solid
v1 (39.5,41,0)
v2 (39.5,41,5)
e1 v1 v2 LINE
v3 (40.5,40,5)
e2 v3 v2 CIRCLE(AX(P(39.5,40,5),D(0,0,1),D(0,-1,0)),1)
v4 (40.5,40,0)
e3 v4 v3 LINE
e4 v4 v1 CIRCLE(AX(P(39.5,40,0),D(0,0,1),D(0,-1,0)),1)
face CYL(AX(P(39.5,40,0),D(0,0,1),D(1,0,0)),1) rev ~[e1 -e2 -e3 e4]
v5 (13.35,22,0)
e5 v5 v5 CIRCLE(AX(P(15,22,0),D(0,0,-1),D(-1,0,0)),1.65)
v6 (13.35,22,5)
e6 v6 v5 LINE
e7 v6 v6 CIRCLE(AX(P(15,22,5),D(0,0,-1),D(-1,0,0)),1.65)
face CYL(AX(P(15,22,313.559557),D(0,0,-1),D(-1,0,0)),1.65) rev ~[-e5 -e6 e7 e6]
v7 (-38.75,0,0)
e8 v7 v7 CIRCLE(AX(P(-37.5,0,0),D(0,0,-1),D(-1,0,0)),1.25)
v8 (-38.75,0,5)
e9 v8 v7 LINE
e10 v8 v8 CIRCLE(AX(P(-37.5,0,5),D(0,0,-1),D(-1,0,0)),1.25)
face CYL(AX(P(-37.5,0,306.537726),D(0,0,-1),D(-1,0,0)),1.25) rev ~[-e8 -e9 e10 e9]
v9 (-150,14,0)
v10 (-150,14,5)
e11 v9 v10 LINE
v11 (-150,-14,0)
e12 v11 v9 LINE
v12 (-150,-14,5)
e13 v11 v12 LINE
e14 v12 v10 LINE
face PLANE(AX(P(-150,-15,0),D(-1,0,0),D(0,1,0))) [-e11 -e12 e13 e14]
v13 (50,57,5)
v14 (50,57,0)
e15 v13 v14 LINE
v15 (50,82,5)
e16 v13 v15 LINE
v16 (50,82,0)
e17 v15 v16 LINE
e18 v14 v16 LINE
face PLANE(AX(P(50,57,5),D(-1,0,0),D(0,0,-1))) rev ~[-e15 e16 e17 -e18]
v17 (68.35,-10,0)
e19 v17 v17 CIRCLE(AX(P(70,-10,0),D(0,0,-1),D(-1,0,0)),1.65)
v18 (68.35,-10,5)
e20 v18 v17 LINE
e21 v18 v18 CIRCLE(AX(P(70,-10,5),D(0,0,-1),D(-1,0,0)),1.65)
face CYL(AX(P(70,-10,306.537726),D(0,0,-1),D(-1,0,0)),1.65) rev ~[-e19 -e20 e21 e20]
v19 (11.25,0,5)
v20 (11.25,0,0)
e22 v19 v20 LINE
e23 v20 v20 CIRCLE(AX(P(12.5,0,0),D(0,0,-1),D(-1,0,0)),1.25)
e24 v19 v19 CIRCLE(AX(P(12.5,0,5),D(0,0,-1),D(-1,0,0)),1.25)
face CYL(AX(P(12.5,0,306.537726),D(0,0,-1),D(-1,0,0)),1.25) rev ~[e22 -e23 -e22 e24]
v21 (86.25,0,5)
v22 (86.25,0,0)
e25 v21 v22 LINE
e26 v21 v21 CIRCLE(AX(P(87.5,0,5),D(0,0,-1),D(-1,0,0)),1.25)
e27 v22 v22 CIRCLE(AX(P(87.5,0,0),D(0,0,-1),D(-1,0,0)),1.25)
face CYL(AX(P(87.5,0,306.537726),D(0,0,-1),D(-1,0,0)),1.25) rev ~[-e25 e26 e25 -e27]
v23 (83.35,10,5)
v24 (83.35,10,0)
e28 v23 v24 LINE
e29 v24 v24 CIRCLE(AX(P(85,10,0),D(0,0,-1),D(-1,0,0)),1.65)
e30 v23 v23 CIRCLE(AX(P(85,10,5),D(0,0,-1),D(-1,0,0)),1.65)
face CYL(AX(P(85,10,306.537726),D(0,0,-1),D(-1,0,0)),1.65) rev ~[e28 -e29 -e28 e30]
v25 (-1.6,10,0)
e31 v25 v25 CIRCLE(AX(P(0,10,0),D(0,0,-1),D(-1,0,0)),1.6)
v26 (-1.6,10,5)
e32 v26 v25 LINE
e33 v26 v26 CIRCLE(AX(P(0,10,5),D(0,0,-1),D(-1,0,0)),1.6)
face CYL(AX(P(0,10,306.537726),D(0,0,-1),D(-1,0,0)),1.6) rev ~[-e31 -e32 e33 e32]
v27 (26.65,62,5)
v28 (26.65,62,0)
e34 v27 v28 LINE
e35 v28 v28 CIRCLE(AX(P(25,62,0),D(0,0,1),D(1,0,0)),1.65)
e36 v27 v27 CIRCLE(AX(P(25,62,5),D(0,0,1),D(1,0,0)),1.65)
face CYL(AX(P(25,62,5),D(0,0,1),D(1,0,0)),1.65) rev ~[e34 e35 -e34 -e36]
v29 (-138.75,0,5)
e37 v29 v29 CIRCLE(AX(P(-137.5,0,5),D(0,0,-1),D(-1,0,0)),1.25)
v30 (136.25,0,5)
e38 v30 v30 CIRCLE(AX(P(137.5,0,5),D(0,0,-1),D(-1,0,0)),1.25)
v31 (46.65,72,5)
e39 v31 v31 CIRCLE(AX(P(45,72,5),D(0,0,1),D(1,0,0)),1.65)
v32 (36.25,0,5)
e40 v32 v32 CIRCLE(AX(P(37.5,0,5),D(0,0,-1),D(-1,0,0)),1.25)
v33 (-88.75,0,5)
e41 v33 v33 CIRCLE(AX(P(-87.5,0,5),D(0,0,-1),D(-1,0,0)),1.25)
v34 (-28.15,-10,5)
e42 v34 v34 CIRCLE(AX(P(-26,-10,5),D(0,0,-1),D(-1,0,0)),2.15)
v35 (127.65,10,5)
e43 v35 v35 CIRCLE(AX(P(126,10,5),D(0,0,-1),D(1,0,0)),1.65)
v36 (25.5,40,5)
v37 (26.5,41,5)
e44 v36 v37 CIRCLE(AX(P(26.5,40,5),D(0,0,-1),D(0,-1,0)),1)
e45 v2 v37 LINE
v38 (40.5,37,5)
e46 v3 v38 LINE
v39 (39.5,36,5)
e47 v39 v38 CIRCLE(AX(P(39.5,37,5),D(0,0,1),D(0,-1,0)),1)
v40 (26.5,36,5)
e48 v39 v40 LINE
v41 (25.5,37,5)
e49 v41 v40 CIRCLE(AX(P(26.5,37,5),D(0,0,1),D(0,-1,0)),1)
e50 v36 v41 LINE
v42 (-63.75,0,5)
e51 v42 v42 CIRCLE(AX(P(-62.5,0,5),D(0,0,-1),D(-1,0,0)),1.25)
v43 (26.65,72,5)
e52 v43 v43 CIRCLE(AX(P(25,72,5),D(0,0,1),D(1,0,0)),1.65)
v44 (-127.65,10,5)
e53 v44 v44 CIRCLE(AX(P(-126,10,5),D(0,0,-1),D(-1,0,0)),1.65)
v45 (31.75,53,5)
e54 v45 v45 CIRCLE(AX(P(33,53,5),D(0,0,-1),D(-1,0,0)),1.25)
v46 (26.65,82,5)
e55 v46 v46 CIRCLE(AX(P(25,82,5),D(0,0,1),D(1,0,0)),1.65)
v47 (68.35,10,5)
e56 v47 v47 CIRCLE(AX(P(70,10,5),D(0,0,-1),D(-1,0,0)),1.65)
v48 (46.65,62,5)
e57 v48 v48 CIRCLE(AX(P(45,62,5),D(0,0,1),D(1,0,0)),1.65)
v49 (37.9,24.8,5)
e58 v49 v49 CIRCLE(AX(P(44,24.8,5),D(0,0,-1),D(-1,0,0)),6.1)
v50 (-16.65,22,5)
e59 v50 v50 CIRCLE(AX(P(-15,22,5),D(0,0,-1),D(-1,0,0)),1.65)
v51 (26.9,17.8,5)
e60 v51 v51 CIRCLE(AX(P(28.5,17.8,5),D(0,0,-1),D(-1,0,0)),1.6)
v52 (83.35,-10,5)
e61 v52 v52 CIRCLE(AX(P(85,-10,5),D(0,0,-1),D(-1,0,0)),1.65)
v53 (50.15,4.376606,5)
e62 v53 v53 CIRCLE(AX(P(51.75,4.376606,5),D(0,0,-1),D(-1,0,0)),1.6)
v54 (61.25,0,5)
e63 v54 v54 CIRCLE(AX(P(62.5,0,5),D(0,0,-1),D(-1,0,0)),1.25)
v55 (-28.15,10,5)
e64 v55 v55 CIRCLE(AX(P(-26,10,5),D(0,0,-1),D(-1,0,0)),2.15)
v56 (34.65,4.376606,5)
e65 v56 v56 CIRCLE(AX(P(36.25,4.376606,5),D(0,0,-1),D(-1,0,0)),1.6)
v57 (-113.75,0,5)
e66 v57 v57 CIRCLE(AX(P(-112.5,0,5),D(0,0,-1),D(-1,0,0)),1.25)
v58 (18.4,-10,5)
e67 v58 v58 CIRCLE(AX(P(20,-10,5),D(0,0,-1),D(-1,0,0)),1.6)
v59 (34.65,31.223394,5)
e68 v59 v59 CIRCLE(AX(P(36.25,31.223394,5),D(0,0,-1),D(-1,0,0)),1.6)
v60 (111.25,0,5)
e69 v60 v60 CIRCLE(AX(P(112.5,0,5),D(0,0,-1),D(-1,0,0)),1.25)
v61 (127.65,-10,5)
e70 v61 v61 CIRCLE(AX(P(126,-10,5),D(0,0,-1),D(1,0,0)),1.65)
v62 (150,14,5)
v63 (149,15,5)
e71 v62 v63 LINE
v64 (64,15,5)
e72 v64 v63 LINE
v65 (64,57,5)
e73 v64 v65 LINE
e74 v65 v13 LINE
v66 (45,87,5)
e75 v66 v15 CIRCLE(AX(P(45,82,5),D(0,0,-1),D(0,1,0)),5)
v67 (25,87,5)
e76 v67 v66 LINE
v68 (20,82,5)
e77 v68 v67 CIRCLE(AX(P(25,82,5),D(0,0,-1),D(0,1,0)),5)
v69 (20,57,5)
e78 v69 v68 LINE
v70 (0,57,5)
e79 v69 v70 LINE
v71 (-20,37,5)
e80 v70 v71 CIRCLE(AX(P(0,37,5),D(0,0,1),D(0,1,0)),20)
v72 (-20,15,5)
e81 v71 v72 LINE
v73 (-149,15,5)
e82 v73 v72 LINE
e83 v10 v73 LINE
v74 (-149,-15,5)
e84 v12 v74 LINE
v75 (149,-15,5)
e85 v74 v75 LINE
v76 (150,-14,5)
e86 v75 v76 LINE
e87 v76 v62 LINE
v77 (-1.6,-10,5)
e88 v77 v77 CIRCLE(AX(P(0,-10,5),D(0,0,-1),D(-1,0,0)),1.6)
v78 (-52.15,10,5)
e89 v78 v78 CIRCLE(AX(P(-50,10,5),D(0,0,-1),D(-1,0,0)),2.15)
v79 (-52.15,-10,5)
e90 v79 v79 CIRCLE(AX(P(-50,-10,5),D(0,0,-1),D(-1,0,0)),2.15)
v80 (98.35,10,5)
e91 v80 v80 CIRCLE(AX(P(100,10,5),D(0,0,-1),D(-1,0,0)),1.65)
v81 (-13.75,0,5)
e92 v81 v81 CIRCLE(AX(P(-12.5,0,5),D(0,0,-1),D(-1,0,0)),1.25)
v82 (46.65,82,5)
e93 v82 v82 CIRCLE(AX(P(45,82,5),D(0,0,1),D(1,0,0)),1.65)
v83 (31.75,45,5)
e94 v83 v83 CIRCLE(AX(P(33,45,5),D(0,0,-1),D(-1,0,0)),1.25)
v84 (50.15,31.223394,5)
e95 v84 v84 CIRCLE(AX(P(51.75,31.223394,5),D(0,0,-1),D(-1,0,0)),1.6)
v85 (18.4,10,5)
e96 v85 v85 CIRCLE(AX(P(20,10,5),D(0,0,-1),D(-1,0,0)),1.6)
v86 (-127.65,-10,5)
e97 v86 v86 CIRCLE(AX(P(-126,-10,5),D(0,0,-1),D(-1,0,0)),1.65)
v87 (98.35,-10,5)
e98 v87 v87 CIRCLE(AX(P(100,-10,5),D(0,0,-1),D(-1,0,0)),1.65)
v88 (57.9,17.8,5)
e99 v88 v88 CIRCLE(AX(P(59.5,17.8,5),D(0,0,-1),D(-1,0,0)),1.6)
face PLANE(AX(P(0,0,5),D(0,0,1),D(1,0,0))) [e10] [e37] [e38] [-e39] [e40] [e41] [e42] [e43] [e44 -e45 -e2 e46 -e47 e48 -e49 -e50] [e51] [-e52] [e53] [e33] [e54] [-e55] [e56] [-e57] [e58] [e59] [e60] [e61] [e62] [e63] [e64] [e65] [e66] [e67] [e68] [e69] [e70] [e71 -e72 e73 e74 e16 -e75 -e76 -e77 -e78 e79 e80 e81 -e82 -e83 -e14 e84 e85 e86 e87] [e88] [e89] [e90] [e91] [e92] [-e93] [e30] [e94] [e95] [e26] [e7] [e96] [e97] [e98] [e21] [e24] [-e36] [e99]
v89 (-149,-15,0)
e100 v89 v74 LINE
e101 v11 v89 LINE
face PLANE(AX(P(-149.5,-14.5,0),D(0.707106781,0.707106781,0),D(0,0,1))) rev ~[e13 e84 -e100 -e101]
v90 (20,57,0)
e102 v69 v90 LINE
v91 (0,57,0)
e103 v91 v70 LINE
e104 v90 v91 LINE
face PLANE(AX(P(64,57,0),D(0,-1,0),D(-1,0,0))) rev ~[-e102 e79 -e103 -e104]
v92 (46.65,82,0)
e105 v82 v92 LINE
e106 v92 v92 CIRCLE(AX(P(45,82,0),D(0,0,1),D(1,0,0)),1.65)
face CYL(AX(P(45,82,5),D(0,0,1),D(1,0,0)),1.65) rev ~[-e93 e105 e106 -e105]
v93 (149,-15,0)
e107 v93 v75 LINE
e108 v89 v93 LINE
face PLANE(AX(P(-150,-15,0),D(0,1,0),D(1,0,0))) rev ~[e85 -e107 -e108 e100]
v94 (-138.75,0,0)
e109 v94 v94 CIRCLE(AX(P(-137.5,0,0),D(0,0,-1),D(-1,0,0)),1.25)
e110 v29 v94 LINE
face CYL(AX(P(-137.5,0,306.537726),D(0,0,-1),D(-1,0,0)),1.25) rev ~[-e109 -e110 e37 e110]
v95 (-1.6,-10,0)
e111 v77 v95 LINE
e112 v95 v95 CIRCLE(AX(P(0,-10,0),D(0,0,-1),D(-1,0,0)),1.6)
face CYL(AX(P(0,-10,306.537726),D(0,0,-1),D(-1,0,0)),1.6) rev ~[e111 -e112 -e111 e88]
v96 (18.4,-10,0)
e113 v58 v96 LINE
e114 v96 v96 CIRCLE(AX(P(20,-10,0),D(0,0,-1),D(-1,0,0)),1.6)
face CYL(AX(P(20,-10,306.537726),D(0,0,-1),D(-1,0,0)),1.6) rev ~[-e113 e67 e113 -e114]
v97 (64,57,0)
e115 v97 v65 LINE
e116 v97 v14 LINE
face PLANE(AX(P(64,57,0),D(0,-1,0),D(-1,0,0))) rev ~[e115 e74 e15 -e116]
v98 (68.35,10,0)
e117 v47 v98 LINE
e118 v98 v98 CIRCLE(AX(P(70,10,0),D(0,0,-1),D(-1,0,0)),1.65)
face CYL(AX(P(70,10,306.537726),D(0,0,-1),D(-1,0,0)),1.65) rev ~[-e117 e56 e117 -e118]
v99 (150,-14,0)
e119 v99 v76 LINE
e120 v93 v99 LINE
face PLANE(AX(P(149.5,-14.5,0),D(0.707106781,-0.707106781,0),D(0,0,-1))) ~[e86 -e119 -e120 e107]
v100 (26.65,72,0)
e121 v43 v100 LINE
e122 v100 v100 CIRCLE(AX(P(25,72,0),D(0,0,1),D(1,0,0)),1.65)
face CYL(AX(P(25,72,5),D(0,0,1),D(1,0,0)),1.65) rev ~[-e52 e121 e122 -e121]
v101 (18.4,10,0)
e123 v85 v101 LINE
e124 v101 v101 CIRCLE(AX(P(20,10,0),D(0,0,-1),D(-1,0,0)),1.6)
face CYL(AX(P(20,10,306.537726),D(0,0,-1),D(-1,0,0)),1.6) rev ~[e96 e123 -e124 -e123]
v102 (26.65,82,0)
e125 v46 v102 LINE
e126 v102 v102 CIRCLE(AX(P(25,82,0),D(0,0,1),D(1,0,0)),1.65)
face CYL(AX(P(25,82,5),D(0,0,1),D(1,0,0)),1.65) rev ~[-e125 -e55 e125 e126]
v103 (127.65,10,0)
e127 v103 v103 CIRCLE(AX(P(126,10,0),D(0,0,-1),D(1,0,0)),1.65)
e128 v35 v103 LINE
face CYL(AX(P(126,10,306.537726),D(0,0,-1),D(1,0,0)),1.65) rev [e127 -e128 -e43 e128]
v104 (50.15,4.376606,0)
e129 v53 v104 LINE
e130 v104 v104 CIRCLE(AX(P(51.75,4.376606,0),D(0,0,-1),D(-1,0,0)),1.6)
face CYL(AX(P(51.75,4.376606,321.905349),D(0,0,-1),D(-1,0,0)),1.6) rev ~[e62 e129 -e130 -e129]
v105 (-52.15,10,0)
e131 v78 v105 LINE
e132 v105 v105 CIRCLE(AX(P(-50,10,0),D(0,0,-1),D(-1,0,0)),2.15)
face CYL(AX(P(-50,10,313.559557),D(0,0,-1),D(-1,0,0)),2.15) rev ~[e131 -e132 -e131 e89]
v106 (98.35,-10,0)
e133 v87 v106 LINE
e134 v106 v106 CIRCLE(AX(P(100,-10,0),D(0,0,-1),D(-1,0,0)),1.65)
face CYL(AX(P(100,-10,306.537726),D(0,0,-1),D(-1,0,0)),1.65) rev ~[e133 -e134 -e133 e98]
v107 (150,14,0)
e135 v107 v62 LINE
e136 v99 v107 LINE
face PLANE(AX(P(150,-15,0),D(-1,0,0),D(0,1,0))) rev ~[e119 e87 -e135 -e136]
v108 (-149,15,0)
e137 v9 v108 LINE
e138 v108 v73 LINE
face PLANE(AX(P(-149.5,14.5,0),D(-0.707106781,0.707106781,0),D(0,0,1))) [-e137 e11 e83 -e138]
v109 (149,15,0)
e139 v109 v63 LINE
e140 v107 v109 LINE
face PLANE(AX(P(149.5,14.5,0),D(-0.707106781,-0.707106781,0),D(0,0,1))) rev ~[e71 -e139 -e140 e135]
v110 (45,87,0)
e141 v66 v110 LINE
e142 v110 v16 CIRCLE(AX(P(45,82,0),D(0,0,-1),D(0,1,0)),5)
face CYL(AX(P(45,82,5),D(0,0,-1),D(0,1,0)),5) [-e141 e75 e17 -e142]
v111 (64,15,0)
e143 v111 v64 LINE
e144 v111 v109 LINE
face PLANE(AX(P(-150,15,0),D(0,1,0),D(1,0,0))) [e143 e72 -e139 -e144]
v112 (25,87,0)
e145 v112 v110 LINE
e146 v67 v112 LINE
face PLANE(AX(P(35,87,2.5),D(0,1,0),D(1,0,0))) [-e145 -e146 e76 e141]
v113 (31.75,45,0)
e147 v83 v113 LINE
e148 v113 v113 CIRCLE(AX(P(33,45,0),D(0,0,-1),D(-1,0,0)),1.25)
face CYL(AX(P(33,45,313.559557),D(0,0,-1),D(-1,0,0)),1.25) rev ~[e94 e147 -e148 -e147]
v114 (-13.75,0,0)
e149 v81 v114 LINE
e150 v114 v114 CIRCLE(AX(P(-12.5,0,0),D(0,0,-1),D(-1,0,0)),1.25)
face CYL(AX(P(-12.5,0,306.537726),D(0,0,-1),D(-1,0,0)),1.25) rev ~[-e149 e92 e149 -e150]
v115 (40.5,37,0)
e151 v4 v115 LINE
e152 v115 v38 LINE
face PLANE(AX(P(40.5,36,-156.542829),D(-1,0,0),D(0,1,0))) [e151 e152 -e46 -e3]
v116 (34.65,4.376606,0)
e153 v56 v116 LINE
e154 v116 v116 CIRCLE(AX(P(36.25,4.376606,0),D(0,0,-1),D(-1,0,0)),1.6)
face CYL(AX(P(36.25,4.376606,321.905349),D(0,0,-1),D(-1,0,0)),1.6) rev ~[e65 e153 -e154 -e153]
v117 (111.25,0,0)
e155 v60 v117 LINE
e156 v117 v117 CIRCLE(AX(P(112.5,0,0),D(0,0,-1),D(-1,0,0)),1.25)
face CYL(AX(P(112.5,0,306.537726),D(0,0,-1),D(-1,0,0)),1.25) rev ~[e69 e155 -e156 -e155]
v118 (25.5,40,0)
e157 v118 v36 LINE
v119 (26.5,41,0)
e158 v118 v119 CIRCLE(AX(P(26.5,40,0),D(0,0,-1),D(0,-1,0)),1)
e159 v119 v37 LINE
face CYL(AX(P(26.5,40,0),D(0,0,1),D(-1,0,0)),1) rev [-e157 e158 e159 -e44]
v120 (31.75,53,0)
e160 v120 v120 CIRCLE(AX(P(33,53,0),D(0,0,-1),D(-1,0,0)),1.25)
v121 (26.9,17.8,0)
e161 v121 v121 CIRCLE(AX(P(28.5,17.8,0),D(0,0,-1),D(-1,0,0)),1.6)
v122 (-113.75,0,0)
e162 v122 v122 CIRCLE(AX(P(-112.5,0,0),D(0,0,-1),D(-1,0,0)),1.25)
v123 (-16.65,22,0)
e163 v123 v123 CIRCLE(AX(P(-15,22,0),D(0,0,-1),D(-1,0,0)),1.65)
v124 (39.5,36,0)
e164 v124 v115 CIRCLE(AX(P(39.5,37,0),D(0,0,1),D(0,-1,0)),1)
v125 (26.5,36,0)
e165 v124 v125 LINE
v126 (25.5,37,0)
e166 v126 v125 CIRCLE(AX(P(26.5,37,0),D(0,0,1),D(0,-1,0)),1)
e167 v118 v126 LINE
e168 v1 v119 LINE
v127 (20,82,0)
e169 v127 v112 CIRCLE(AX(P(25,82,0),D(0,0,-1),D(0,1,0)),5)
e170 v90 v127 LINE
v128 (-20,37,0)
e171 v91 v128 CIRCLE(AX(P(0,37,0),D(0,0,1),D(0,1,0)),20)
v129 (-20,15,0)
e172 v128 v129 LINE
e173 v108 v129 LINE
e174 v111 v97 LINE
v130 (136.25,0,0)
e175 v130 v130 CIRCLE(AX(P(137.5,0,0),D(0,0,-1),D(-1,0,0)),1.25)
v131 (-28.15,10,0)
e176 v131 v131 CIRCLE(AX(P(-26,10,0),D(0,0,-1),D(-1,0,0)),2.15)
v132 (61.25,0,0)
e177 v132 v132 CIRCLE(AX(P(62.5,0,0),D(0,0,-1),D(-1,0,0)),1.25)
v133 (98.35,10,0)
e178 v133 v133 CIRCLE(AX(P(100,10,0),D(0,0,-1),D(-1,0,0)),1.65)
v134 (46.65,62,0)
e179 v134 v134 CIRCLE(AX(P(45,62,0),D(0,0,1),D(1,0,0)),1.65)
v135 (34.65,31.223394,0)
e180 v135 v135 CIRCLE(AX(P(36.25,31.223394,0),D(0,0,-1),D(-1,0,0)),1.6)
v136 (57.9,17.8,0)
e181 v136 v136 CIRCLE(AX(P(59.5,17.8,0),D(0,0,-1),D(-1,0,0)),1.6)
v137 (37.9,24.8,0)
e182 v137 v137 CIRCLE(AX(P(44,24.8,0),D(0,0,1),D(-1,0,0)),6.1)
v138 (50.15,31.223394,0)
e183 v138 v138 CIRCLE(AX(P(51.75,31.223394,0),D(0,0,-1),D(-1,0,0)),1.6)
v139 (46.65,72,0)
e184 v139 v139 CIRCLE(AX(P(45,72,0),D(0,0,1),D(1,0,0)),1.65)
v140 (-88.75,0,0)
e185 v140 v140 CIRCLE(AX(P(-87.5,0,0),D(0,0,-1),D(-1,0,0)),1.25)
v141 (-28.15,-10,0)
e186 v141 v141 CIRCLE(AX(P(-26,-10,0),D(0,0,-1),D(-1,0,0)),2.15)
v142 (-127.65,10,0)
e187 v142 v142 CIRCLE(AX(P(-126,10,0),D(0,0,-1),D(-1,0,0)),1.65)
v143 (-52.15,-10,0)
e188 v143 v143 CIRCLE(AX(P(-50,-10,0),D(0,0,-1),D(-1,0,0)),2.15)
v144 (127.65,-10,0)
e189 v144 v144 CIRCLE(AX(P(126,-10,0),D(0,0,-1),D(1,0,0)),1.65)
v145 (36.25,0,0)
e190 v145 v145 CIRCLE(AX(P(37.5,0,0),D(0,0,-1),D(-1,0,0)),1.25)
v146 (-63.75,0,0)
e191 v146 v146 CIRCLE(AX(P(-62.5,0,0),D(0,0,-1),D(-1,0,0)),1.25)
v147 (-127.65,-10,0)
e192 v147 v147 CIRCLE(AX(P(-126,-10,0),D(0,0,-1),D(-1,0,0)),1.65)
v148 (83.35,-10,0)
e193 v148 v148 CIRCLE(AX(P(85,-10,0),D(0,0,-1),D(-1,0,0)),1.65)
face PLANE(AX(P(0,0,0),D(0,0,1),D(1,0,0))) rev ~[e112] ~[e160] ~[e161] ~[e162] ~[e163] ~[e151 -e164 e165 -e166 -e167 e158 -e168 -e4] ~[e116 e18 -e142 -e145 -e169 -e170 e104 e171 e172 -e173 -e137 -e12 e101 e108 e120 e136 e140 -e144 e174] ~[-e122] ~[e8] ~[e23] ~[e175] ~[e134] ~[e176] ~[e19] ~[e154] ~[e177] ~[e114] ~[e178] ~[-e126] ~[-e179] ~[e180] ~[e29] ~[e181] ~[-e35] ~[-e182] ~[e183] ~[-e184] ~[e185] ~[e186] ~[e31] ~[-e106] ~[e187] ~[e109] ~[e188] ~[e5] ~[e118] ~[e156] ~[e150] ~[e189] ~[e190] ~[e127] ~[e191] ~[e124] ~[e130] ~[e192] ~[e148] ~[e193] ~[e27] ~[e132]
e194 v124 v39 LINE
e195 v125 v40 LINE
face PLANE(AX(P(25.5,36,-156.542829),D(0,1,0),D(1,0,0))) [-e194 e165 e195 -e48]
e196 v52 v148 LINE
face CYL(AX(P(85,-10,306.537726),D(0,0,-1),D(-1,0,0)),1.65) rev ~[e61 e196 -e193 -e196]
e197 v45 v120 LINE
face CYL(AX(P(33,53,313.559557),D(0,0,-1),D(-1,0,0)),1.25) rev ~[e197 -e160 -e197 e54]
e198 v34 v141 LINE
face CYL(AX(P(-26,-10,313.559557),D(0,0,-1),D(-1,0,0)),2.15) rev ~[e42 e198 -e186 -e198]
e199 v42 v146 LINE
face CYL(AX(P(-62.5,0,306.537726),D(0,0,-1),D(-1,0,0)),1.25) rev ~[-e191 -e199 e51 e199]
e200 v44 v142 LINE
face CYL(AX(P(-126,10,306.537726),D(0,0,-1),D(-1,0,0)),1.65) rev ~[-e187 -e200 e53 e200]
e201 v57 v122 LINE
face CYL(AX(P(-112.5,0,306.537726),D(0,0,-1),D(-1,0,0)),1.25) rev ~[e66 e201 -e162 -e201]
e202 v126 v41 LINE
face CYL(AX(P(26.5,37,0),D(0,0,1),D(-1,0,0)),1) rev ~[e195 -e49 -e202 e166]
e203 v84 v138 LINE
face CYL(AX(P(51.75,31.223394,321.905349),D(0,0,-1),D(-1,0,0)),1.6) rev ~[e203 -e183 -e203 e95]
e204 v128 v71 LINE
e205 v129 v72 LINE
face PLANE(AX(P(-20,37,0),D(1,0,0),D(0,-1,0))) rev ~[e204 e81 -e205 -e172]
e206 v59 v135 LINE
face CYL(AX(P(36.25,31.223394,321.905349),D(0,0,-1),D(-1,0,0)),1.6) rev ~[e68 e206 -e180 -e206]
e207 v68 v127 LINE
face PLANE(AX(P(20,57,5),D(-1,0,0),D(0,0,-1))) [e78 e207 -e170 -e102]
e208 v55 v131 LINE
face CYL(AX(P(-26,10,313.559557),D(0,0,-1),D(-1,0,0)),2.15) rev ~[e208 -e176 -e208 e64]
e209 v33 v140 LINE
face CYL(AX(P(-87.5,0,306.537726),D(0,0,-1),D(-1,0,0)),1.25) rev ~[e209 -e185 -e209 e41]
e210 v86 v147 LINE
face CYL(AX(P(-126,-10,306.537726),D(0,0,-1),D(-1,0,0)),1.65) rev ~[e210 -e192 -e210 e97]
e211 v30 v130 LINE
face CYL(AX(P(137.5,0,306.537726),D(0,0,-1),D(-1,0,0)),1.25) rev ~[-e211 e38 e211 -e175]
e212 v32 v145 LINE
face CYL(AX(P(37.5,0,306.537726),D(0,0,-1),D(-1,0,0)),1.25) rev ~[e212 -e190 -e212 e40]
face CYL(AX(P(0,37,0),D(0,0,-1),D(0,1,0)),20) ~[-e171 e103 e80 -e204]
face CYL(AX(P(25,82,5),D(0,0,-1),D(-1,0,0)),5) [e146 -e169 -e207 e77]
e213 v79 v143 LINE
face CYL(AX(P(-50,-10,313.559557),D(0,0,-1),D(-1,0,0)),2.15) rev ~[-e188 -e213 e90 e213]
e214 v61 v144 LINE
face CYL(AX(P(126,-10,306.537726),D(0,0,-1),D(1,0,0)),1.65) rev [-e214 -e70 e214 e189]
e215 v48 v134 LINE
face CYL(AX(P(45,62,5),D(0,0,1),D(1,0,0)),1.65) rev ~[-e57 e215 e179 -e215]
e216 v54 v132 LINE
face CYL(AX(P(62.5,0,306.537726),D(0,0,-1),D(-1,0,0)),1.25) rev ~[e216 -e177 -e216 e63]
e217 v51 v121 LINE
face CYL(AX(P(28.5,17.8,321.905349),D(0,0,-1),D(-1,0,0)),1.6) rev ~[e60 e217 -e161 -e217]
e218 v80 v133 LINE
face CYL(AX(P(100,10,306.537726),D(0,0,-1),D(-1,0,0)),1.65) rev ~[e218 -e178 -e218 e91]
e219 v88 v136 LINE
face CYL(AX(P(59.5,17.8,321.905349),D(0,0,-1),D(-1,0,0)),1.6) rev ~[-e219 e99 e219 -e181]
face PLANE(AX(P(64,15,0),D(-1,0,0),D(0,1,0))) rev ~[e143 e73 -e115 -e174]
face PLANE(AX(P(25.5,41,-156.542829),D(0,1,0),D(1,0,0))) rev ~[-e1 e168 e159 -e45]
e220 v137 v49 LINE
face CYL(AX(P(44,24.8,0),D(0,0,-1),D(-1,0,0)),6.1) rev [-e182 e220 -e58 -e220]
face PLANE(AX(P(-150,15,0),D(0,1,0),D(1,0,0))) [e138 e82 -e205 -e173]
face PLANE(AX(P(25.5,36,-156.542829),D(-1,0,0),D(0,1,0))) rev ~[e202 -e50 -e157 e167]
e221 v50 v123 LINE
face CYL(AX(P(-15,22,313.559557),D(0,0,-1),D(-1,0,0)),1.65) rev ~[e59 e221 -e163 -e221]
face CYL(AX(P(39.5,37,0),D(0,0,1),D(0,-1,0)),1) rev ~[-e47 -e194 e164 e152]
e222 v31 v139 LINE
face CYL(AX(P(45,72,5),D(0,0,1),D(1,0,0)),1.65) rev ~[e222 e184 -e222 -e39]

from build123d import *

# Parameters (mm, degrees)
SKETCH_1_W                  = 300
SKETCH_1_H                  = 30
EXTRUDE_1_DEPTH             = 5
CHAMFER_1_SIZE              = 1
HOLE_WIZARD_M3_1_D          = 3.2
M3X0_5_1_D                  = 2.5
M4X0_7_1_D                  = 3.3
M4X0_7_2_D                  = 3.3
PATTERN_LINEAR_1_COUNT      = 6
PATTERN_LINEAR_1_PITCH      = 25
PATTERN_LINEAR_1_COL_COUNT  = 7
PATTERN_LINEAR_1_COL_PITCH  = 25
EXTRUDE_3_DEPTH             = 5
SKETCH_13_R                 = 6.1
CUT_EXTRUDE_2_DEPTH         = 161.542829177
HOLE_WIZARD_M2_1_D          = 2.2
M4X0_7_3_D                  = 3.3
HOLE_WIZARD_M4_1_D          = 4.3
M3X0_5_2_D                  = 2.5
CUT_EXTRUDE_3_DEPTH         = 161.542829177
CUT_EXTRUDE_3_DEPTH_BACK    = 161.542829177
SKETCH_25_W                 = 15
SKETCH_25_H                 = 5
FILLET_1_R                  = 1
SKETCH_26_W                 = 30
SKETCH_26_H                 = 5
EXTRUDE_4_DEPTH             = 30
SKETCH_27_R                 = 1.65
CUT_EXTRUDE_4_DEPTH         = 174.476223155
PATTERN_LINEAR_2_COUNT      = 2
PATTERN_LINEAR_2_PITCH      = 20
PATTERN_LINEAR_2_COUNT_DIR2 = 3
PATTERN_LINEAR_2_PITCH_DIR2 = 10
FILLET_2_R                  = 5
HOLE_WIZARD_M3_2_D          = 3.2


with BuildPart() as part:
    # 草圖1 → 填料-伸長1 (new body)
    with BuildSketch(Plane.XY):
        Rectangle(SKETCH_1_W, SKETCH_1_H)
    extrude(amount=EXTRUDE_1_DEPTH)

    # 導角1
    chamfer_1_edges = [part.edges().sort_by_distance(p)[0] for p in [
        (150, -15, 2.5),
        (-150, -15, 2.5),
        (-150, 15, 2.5),
        (150, 15, 2.5),
    ]]
    chamfer(chamfer_1_edges, length=CHAMFER_1_SIZE)

    # M3 餘隙孔1 (through all)
    with Locations(Plane.XY.offset(5)):
        with Locations((20, -10), (20, 10), (0, -10), (0, 10)):
            Hole(HOLE_WIZARD_M3_1_D / 2)

    # M3x0.5 螺紋孔1 (through all)
    with Locations(Plane.XY.offset(5)):
        with Locations((-12.5, 0)):
            m3x0_5_1 = Hole(M3X0_5_1_D / 2)

    # M4x0.7 螺紋孔1 (through all)
    with Locations(Plane.XY.offset(5)):
        with Locations((100, 10), (70, -10), (70, 10), (100, -10), (85, 10), (85, -10)):
            Hole(M4X0_7_1_D / 2)

    # M4x0.7 螺紋孔2 (through all)
    with Locations(Plane.XY.offset(5)):
        with Locations((-126, 10), (-126, -10)):
            m4x0_7_2 = Hole(M4X0_7_2_D / 2)

    # 直線複製排列1: M3x0.5 螺紋孔1 ×6
    with Locations(*[(-i * PATTERN_LINEAR_1_PITCH, 0, 0) for i in range(1, PATTERN_LINEAR_1_COUNT)]):
        add(m3x0_5_1, mode=Mode.SUBTRACT)

    # 直線複製排列1 col: M3x0.5 螺紋孔1 ×7
    with Locations(*[(i * PATTERN_LINEAR_1_COL_PITCH, 0, 0) for i in range(1, PATTERN_LINEAR_1_COL_COUNT)]):
        add(m3x0_5_1, mode=Mode.SUBTRACT)

    # 鏡射1: M4x0.7 螺紋孔2 across plane
    add(m4x0_7_2.mirror(Plane(origin=(0, 0, 0), x_dir=(0, 0, 1), z_dir=(1, 0, 0))), mode=Mode.SUBTRACT)

    # 草圖16 → 填料-伸長3 (add, through all)
    with BuildSketch(Plane.XY):
        with BuildLine():
            Line((-20, 15), (64, 15))
            Line((64, 15), (64, 57))
            Line((64, 57), (0, 57))
            ThreePointArc((0, 57), (-14.142135624, 51.142135624), (-20, 37))
            Line((-20, 37), (-20, 15))
        make_face()
    extrude(amount=EXTRUDE_3_DEPTH)

    # 草圖13 → 除料-伸長2 (cut, through all)
    with BuildSketch(Plane.XY):
        with Locations(Location((44, 24.8, 0), (0, 0, 180))):
            Circle(SKETCH_13_R)
    extrude(amount=CUT_EXTRUDE_2_DEPTH, mode=Mode.SUBTRACT)

    # M2 餘隙孔1 (through all)
    with Locations(Plane.XY.offset(5)):
        with Locations((39, 24.8), (49, 24.8)):
            Hole(HOLE_WIZARD_M2_1_D / 2)

    # M4x0.7 螺紋孔3 (through all)
    with Locations(Plane.XY.offset(5)):
        with Locations((15, 22), (-15, 22)):
            Hole(M4X0_7_3_D / 2)

    # M4 餘隙孔1 (through all)
    with Locations(Plane.XY.offset(5)):
        with Locations((-26, -10), (-26, 10), (-50, -10), (-50, 10)):
            Hole(HOLE_WIZARD_M4_1_D / 2)

    # M3x0.5 螺紋孔2 (through all)
    with Locations(Plane.XY.offset(5)):
        with Locations((33, 53), (33, 45)):
            Hole(M3X0_5_2_D / 2)

    # 草圖25 → 除料-伸長3 (cut, two sides: drawn at the far end of the back side and taken through both)
    with BuildSketch(Plane.XY.offset(5).offset(-CUT_EXTRUDE_3_DEPTH_BACK)):
        with Locations((33, 38.5)):
            Rectangle(SKETCH_25_W, SKETCH_25_H)
    extrude(amount=CUT_EXTRUDE_3_DEPTH + CUT_EXTRUDE_3_DEPTH_BACK, mode=Mode.SUBTRACT)

    # 圓角1
    fillet_1_edges = [part.edges().sort_by_distance(p)[0] for p in [
        (40.5, 41, 2.5),
        (40.5, 36, 2.5),
        (25.5, 36, 2.5),
        (25.5, 41, 2.5),
    ]]
    fillet(fillet_1_edges, radius=FILLET_1_R)

    # 草圖26 → 填料-伸長4 (add)
    with BuildSketch(Plane(origin=(0, 57, 0), x_dir=(1, 0, 0), z_dir=(0, 1, 0))):
        with Locations((35, -2.5)):
            Rectangle(SKETCH_26_W, SKETCH_26_H)
    extrude(amount=EXTRUDE_4_DEPTH)

    # 草圖27 → 除料-伸長4 (cut, through all)
    with BuildSketch(Plane.XY.offset(5)):
        with Locations((25, 82)):
            Circle(SKETCH_27_R)
    cut_extrude_4 = extrude(amount=-CUT_EXTRUDE_4_DEPTH, mode=Mode.SUBTRACT)

    # 直線複製排列2: Cut-Extrude 4 2 × 3
    with Locations(*[(i * PATTERN_LINEAR_2_PITCH, -j * PATTERN_LINEAR_2_PITCH_DIR2, 0) for i in range(PATTERN_LINEAR_2_COUNT) for j in range(PATTERN_LINEAR_2_COUNT_DIR2) if (i, j) != (0, 0)]):
        add(cut_extrude_4, mode=Mode.SUBTRACT)

    # 圓角2
    fillet_2_edges = [part.edges().sort_by_distance(p)[0] for p in [
        (50, 87, 2.5),
        (20, 87, 2.5),
    ]]
    fillet(fillet_2_edges, radius=FILLET_2_R)

    # M3 餘隙孔2 (through all)
    with Locations(Plane.XY.offset(5)):
        with Locations((36.25, 4.376606241), (28.5, 17.8), (59.5, 17.8), (36.25, 31.223393759), (51.75, 4.376606241), (51.75, 31.223393759)):
            Hole(HOLE_WIZARD_M3_2_D / 2)


solid = part.part
